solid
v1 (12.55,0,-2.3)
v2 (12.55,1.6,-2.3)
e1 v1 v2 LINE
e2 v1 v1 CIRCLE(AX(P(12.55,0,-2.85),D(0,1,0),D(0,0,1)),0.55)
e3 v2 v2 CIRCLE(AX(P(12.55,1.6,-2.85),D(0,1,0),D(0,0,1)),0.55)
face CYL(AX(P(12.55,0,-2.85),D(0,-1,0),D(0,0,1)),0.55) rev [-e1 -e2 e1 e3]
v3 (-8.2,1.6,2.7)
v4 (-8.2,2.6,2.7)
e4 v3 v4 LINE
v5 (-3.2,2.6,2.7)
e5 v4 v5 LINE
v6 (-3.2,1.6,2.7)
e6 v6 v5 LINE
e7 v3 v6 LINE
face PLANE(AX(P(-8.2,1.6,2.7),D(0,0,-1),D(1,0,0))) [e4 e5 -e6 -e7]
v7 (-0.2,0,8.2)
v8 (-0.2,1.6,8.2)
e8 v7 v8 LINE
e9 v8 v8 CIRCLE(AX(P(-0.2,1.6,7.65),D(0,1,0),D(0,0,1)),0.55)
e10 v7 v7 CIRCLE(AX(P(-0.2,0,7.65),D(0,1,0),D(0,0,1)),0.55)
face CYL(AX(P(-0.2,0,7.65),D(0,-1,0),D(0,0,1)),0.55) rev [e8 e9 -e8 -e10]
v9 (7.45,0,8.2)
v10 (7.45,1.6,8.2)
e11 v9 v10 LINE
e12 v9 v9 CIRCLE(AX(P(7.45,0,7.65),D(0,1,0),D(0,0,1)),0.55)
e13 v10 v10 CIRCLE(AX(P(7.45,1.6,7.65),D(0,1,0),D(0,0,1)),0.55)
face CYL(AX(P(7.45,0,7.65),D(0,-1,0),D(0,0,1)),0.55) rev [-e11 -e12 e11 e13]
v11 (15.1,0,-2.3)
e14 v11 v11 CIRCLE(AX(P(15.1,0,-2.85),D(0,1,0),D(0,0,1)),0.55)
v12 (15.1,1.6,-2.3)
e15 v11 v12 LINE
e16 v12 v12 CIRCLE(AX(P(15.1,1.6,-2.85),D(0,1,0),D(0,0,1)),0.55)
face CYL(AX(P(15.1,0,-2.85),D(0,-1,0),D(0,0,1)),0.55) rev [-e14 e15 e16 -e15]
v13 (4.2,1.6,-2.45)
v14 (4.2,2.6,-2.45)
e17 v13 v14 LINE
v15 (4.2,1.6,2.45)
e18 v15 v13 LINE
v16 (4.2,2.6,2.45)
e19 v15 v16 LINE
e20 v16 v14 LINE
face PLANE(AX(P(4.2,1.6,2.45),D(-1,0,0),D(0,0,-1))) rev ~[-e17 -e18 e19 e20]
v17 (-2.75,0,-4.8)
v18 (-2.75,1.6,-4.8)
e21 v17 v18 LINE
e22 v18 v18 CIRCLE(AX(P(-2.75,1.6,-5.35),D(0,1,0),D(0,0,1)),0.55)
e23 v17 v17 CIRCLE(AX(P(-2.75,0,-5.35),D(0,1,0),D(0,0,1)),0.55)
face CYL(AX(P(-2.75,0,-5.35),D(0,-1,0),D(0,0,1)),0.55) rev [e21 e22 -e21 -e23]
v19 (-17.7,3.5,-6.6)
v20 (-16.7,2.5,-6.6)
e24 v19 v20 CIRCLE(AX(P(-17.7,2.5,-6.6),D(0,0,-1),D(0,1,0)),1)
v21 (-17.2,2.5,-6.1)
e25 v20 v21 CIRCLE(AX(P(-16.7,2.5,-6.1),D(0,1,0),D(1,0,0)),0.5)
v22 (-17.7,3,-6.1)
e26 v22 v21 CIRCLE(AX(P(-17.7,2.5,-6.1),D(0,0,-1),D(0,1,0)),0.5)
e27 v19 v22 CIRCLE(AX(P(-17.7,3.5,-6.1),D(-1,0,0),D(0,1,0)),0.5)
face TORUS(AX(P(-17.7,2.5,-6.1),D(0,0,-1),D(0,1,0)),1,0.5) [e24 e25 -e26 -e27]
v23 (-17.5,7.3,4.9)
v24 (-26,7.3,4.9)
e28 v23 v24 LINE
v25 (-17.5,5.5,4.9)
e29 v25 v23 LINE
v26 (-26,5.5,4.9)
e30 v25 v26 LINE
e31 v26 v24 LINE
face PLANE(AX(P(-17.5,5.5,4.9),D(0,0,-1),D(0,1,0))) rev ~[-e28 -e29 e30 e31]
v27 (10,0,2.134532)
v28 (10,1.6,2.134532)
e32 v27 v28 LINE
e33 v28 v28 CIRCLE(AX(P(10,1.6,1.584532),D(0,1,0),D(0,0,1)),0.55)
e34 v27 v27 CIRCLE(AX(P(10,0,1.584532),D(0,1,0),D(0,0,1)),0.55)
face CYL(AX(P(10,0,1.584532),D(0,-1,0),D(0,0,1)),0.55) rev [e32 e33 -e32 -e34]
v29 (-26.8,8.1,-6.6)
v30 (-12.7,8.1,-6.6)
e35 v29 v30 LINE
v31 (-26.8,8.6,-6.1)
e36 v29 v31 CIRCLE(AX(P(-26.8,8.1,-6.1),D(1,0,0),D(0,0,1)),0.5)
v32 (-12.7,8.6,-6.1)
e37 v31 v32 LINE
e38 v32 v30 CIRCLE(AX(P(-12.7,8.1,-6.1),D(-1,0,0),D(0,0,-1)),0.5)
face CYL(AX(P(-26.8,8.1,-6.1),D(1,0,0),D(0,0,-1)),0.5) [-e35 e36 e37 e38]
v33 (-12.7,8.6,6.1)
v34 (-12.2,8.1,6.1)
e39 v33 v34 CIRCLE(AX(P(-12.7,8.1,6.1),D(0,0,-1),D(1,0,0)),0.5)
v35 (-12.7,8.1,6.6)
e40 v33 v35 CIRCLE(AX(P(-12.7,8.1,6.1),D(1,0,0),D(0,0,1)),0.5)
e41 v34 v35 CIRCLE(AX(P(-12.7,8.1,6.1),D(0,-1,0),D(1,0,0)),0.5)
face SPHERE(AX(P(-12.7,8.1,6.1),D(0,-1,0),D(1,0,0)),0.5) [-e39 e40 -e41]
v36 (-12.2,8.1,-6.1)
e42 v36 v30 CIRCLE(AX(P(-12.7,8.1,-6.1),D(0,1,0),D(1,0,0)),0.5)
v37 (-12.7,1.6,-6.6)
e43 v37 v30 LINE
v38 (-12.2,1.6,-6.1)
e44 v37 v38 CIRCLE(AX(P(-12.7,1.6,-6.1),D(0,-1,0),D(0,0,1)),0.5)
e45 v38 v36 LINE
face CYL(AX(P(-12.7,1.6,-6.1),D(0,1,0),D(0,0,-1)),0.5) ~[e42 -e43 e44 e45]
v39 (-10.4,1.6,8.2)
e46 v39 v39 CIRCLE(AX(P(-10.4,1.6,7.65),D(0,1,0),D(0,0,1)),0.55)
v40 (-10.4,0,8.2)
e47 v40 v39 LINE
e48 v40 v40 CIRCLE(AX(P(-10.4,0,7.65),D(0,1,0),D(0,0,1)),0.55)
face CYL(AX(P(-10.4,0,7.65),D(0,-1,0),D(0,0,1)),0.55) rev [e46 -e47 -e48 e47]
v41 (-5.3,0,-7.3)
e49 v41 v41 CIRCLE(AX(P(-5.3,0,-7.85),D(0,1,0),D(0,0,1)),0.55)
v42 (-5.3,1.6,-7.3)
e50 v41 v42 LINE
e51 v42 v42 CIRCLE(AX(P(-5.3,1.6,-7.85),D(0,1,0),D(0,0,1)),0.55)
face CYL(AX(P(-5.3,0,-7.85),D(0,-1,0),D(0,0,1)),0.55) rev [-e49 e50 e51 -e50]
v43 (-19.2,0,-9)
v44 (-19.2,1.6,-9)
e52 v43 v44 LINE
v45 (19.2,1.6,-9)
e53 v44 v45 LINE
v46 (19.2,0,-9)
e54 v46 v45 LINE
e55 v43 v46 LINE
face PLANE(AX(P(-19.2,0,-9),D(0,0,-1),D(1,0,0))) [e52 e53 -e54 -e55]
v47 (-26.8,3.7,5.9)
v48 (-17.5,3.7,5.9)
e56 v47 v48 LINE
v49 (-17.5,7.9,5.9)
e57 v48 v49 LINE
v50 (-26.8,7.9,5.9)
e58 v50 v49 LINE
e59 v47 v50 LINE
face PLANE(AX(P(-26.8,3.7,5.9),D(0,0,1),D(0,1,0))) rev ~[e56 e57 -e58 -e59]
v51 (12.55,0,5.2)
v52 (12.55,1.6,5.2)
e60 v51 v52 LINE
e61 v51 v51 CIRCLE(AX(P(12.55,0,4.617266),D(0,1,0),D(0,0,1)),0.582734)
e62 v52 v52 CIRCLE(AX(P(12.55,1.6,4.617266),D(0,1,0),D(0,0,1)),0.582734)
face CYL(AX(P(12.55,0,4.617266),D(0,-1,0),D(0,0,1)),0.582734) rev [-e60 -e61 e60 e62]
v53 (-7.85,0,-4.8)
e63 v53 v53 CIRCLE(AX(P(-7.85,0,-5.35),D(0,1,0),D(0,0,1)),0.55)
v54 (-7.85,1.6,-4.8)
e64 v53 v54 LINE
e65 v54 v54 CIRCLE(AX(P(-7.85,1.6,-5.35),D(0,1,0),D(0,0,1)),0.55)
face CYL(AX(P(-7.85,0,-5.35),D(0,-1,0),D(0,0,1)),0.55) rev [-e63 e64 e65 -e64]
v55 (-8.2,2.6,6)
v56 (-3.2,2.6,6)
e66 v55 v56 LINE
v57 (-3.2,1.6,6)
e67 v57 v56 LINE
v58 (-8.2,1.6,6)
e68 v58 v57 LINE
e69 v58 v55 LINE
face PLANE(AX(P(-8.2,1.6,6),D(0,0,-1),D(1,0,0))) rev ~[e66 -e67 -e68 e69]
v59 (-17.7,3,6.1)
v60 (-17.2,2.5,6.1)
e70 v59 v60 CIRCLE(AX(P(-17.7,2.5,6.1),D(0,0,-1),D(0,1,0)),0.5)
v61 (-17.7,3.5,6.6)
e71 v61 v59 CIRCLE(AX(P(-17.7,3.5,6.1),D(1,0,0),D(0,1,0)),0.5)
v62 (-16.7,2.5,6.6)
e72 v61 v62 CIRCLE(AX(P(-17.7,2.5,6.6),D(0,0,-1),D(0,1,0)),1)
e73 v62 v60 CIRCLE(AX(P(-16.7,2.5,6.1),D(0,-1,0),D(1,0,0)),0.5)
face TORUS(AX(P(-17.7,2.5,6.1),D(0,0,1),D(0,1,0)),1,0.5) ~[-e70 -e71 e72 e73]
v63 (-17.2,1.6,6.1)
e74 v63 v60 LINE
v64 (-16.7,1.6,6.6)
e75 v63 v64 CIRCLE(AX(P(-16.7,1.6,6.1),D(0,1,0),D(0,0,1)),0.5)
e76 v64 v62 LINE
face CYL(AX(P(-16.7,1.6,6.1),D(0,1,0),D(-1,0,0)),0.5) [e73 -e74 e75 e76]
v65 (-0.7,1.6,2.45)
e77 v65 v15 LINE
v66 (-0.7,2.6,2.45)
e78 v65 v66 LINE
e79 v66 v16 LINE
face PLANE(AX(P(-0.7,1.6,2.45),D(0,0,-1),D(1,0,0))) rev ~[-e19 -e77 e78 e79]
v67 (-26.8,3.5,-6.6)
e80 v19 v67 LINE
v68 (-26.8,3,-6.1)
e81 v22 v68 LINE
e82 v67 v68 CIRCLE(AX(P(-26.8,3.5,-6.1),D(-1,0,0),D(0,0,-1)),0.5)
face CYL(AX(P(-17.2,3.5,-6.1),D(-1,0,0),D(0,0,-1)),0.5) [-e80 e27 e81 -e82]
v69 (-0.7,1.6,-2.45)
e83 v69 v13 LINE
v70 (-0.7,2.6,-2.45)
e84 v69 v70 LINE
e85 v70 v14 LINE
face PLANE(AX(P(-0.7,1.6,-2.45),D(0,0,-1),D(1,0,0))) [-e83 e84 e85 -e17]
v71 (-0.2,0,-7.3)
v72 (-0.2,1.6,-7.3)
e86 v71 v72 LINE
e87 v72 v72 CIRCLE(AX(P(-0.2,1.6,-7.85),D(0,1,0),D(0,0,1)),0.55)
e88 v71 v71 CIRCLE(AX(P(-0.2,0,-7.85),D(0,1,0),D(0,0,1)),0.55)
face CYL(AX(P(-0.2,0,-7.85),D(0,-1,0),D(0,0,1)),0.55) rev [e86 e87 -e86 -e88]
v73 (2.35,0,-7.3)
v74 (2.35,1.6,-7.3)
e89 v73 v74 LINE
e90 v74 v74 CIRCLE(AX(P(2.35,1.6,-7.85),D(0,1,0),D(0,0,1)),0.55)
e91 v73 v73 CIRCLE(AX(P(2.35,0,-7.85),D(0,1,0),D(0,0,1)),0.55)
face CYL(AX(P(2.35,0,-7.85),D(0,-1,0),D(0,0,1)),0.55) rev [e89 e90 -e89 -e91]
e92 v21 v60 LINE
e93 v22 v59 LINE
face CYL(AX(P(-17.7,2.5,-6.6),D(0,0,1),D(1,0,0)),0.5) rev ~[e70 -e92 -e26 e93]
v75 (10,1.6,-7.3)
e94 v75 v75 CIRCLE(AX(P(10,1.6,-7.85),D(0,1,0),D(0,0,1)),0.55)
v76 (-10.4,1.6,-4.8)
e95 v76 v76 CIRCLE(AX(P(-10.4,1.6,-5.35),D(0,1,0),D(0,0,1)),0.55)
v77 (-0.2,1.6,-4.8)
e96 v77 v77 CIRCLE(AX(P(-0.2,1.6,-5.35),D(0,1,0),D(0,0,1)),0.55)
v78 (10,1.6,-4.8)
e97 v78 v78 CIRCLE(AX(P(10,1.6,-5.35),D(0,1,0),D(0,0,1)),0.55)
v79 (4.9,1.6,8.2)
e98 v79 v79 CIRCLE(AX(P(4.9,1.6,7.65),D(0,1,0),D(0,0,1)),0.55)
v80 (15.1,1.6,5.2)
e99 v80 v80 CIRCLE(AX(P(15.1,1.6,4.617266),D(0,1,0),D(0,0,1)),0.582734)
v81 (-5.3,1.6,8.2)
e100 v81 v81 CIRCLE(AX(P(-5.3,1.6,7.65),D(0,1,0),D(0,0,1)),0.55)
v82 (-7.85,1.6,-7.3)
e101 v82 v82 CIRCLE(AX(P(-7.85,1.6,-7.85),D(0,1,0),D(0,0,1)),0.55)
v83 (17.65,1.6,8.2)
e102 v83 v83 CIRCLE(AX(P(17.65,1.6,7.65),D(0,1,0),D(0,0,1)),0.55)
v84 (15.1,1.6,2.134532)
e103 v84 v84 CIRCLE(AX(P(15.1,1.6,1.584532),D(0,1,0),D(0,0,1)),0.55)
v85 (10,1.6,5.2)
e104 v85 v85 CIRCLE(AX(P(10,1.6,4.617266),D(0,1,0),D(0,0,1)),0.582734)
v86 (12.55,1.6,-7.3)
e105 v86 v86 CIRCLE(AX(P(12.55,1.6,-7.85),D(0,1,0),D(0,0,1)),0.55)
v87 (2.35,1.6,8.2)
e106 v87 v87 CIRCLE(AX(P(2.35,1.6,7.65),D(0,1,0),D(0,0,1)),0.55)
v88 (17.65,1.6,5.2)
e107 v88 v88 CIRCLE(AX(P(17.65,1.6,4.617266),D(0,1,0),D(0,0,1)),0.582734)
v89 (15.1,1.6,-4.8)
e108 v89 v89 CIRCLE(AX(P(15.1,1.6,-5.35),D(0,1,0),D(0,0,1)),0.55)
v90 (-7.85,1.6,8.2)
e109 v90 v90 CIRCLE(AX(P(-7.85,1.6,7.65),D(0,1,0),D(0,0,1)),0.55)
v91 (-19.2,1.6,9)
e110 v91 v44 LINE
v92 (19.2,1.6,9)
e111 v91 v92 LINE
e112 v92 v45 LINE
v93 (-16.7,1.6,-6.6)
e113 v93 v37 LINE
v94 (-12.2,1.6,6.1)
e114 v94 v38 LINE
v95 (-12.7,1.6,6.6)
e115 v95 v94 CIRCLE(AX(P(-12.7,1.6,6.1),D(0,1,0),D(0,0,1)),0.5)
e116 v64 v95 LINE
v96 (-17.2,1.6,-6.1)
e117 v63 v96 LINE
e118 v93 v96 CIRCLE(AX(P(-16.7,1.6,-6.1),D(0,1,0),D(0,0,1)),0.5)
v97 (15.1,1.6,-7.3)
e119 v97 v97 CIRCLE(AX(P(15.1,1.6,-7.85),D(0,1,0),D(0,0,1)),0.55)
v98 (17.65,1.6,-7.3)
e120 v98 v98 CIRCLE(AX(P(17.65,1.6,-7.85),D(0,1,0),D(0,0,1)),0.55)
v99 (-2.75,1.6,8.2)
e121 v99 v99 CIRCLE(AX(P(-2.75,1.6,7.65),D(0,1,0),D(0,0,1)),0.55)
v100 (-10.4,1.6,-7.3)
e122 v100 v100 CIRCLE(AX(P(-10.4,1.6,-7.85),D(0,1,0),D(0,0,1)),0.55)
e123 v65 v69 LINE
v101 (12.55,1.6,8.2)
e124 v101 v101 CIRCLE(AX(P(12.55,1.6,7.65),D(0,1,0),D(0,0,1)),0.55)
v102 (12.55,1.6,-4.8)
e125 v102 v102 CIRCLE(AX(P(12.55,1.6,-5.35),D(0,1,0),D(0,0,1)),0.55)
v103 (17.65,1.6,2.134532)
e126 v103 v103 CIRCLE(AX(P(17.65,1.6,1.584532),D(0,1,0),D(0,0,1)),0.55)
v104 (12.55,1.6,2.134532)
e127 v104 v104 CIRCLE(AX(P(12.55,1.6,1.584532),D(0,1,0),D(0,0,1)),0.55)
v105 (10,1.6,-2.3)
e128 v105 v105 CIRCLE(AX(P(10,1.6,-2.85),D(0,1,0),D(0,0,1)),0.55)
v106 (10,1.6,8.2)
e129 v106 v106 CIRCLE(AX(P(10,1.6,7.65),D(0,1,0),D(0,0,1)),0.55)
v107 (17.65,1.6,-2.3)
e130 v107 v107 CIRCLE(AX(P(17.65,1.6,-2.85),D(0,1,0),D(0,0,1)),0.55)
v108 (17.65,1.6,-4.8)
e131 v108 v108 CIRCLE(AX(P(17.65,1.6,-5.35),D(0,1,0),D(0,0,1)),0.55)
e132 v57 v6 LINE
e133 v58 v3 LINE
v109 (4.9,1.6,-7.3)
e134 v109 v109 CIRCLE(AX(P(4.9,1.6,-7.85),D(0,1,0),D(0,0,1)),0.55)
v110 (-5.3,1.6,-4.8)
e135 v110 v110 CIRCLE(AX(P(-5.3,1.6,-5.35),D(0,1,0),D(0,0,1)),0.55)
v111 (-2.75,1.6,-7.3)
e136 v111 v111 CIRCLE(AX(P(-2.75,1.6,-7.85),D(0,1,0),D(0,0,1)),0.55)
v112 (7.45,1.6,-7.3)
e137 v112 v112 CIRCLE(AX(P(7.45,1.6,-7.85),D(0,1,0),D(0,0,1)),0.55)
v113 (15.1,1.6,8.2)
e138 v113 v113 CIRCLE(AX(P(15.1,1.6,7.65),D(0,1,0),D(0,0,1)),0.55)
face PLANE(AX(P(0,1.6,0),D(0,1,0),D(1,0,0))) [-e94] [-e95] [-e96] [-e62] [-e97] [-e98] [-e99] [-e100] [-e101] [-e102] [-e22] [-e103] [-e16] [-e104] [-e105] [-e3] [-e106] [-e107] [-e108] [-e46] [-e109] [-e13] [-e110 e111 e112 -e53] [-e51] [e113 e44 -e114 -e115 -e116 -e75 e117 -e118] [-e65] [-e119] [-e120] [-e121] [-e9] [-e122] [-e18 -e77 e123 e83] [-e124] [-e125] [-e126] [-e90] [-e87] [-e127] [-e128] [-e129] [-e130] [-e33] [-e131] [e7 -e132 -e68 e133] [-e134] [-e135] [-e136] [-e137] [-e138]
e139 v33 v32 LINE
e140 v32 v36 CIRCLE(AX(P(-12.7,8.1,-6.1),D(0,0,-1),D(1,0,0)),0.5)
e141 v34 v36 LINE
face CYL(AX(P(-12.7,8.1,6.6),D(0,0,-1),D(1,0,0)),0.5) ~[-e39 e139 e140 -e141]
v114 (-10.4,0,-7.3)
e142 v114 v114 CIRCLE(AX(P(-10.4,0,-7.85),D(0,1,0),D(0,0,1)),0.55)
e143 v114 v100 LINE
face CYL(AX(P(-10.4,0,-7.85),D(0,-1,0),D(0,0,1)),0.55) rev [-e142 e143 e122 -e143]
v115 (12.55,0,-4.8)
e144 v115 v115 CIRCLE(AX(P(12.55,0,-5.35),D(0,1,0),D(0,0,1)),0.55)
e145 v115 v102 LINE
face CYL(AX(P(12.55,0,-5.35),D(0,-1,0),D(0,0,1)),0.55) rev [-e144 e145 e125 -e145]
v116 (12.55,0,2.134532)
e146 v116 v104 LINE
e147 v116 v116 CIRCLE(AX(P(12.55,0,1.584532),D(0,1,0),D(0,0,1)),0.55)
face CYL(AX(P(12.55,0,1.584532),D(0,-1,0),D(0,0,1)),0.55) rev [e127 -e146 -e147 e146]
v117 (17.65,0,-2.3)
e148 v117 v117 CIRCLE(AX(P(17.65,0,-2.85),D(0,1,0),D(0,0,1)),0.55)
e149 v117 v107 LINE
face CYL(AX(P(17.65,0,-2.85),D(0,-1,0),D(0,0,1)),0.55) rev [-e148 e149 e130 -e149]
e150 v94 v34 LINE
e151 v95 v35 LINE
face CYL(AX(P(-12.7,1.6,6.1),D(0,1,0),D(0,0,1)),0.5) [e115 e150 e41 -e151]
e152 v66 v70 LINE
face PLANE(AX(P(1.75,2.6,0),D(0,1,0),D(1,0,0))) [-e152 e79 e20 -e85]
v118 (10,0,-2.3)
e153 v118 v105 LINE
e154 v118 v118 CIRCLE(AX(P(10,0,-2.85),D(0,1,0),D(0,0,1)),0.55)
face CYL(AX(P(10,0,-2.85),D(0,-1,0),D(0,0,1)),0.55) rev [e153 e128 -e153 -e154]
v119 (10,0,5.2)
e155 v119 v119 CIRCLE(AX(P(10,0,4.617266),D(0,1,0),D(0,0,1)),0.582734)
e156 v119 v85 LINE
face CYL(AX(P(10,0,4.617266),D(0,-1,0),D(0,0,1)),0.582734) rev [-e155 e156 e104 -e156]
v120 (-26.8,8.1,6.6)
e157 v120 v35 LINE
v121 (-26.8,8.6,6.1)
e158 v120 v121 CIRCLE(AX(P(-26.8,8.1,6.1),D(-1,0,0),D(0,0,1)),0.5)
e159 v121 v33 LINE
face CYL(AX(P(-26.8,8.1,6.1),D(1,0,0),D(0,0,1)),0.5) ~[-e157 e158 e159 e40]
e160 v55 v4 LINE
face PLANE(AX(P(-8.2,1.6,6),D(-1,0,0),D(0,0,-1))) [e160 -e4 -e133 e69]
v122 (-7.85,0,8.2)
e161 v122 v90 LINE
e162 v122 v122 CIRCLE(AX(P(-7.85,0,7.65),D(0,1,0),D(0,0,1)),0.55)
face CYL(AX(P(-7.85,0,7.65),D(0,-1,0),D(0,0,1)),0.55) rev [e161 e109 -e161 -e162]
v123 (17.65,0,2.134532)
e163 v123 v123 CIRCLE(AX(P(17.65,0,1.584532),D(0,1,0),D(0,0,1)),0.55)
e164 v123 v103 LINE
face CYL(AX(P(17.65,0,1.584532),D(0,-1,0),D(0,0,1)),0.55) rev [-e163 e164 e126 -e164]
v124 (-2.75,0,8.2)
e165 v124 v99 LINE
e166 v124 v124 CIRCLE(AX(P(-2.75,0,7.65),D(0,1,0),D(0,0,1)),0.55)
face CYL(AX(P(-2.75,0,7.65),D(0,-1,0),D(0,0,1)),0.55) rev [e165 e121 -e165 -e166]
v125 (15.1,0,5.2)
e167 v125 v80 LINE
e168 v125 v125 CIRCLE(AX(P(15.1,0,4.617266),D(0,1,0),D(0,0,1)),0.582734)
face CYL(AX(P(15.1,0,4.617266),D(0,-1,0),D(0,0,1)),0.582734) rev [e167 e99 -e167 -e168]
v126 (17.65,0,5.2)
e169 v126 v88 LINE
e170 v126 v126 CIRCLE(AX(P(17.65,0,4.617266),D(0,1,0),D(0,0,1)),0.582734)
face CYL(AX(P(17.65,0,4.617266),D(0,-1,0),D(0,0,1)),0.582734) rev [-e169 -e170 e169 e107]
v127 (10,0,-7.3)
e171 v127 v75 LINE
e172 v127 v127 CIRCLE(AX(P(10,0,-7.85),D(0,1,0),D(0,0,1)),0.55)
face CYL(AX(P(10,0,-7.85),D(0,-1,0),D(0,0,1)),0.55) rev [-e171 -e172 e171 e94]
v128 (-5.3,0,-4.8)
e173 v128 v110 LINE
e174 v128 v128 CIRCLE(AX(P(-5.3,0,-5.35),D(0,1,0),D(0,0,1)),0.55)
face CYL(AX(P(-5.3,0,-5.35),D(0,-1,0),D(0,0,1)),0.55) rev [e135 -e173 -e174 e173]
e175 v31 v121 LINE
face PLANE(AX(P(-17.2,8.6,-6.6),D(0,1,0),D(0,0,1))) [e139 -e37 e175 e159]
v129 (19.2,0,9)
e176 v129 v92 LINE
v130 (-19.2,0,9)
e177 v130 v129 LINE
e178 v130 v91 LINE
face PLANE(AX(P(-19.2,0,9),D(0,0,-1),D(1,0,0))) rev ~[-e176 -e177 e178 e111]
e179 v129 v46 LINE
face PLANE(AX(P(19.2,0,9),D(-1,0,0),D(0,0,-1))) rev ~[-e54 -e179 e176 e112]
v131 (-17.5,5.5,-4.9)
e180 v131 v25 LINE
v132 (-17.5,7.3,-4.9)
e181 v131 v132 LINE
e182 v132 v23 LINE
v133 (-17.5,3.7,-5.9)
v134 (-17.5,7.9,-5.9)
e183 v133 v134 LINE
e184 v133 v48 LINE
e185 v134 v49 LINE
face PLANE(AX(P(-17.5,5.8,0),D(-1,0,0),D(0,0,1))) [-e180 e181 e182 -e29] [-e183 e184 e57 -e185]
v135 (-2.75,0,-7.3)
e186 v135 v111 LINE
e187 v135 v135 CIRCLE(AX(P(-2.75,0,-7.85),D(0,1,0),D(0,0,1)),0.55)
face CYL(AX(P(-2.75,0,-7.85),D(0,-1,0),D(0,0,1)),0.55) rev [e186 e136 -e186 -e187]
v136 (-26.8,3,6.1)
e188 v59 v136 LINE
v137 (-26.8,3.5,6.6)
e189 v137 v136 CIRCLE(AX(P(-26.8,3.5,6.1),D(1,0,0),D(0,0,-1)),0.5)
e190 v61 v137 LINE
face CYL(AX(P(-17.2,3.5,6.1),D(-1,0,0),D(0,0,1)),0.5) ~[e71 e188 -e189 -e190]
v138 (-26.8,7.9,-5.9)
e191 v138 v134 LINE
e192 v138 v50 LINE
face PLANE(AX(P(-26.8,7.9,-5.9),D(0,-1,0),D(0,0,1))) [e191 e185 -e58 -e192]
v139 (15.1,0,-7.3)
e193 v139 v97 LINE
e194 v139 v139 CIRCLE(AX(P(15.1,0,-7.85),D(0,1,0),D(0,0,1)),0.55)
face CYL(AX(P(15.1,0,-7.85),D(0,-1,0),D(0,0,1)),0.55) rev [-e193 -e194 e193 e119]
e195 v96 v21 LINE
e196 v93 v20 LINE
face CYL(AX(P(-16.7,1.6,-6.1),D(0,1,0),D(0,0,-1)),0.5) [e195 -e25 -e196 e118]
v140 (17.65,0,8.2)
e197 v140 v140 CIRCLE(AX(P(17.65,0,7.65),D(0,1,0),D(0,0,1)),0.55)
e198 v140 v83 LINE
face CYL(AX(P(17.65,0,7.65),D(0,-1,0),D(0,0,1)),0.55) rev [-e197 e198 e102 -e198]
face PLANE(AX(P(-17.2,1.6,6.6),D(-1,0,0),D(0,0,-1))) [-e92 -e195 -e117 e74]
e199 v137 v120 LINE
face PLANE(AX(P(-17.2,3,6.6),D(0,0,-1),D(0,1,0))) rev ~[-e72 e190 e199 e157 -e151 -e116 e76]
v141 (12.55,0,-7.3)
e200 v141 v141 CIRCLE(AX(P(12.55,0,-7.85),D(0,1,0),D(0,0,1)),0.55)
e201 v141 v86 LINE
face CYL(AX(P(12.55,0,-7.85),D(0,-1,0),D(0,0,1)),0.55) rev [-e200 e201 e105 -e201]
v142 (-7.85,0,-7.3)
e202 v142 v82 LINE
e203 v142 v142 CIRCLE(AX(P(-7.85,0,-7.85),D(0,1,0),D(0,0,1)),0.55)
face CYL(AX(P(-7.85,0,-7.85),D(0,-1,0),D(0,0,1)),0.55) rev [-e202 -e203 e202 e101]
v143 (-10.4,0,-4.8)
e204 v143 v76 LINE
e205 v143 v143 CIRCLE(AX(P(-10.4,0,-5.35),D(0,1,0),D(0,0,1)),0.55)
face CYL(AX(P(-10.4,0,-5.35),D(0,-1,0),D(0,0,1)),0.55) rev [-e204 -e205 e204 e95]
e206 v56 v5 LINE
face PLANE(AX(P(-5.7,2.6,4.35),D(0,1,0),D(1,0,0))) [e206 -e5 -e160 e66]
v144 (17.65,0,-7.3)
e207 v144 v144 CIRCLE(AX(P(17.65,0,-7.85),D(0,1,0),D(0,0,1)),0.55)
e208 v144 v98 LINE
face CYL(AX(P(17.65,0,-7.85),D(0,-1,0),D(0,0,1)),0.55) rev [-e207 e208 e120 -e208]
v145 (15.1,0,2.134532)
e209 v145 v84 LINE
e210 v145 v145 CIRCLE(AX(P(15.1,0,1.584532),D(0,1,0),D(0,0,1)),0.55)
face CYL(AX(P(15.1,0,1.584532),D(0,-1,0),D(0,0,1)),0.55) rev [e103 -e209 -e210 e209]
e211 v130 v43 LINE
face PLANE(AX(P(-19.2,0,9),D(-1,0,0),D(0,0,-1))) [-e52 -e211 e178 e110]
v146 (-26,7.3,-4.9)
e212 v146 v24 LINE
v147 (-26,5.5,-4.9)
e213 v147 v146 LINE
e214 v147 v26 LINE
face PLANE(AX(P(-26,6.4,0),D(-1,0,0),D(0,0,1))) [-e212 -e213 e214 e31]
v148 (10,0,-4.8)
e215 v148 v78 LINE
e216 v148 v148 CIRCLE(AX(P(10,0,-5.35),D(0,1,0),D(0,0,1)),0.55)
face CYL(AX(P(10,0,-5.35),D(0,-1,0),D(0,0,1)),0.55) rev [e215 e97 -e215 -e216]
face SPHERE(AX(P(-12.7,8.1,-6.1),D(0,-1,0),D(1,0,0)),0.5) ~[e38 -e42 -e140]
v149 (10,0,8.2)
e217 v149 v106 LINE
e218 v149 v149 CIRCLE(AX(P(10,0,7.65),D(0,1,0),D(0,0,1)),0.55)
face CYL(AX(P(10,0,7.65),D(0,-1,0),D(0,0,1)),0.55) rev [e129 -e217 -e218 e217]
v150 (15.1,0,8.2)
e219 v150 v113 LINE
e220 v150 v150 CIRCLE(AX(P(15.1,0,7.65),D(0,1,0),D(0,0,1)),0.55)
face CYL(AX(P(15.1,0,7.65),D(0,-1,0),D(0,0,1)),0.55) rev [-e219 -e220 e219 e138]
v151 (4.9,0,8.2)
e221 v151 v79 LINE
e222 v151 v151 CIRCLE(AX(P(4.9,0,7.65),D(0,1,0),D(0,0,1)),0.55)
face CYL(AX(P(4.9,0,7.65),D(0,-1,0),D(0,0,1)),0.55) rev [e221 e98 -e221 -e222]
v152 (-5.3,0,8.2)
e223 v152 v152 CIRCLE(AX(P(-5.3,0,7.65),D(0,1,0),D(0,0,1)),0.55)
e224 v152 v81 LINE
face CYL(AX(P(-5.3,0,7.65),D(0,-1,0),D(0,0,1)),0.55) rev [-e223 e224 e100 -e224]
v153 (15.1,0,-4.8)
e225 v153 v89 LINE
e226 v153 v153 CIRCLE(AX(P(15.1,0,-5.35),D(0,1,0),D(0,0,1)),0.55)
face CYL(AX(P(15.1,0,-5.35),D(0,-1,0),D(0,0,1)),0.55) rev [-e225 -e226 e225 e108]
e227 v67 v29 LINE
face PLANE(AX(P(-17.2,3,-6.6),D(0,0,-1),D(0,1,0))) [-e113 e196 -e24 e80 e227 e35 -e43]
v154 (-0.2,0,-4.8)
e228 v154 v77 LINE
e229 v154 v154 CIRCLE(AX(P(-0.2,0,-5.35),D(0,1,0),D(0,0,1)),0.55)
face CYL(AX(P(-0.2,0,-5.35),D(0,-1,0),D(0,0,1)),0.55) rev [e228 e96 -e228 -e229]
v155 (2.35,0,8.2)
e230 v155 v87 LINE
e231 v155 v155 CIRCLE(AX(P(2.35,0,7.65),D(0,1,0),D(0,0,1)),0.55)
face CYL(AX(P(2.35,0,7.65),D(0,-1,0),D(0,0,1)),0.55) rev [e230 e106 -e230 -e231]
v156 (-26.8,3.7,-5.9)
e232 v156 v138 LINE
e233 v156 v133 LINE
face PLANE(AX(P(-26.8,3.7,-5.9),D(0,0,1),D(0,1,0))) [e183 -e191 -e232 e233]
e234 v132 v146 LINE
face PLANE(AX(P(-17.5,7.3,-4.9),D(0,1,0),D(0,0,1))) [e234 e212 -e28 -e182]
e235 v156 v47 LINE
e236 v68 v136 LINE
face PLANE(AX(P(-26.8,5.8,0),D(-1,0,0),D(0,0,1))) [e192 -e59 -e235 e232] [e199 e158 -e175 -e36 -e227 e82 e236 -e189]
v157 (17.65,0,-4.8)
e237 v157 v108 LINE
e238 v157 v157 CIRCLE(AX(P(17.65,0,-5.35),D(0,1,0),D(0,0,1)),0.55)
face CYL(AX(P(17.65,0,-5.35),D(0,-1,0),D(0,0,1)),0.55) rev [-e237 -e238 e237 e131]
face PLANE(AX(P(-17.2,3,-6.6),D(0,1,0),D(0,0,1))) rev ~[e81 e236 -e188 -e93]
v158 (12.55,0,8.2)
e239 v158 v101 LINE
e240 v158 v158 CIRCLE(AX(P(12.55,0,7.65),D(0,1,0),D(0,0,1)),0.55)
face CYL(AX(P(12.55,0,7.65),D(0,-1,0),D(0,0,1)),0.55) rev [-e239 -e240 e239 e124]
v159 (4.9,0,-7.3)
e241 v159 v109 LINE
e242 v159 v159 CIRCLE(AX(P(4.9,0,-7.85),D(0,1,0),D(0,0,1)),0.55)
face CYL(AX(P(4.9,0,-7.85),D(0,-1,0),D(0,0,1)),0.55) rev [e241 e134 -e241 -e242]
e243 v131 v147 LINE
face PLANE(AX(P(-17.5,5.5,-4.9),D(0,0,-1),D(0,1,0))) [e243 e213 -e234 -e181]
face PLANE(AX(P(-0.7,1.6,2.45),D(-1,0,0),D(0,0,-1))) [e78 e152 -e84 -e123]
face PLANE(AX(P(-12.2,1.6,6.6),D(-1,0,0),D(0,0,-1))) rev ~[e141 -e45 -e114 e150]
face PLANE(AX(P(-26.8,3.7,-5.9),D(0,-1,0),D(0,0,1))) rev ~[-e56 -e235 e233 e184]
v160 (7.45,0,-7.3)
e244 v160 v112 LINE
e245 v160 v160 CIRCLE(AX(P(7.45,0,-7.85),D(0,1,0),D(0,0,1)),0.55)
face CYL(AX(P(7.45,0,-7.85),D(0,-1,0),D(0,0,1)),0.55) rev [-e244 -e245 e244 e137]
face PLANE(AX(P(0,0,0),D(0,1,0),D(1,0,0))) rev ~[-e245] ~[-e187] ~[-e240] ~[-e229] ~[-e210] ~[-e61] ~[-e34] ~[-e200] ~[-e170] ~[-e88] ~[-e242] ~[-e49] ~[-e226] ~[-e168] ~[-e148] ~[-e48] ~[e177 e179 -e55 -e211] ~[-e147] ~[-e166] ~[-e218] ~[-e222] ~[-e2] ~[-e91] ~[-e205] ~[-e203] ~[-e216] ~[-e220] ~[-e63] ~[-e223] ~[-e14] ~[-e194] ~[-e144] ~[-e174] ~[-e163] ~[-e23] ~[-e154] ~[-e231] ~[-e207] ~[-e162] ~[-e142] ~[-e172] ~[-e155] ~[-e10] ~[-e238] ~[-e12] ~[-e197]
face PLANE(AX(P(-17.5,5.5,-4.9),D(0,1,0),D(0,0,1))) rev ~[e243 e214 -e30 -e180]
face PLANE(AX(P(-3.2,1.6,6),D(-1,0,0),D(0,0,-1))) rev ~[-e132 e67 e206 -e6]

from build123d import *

# Parameters (mm, degrees)
ESQUISSE1_W             = 38.4
ESQUISSE1_H             = 18
ESQUISSE1_R             = 0.55
ESQUISSE1_R_2           = 0.582733778
BOSS_EXTRU_1_DEPTH      = 1.6
ESQUISSE2_W             = 5
ESQUISSE2_H             = 3.3
ESQUISSE2_W_2           = 4.9
ESQUISSE2_H_2           = 4.9
BOSS_EXTRU_2_DEPTH      = 1
ESQUISSE3_W             = 5
ESQUISSE3_H             = 13.2
BOSS_EXTRU_3_DEPTH      = 7
ESQUISSE4_W             = 13.2
ESQUISSE4_H             = 5.6
BOSS_EXTRU_4_DEPTH      = 9.6
CONG_2_R                = 0.5
ESQUISSE5_W             = 11.8
ESQUISSE5_H             = 4.2
ENL_V_MAT_EXTRU_1_DEPTH = 9.3
ESQUISSE6_W             = 9.8
ESQUISSE6_H             = 1.8
BOSS_EXTRU_5_DEPTH      = 8.5


with BuildPart() as part:
    # Esquisse1 → Boss.-Extru.1 (new body)
    with BuildSketch(Plane(origin=(0, 0, 0), x_dir=(1, 0, 0), z_dir=(0, 1, 0))):
        Rectangle(ESQUISSE1_W, ESQUISSE1_H)
        with Locations(Location((17.65, -7.65, 0), (0, 0, 270))):
            Circle(ESQUISSE1_R, mode=Mode.SUBTRACT)
        with Locations(Location((15.1, -7.65, 0), (0, 0, 270))):
            Circle(ESQUISSE1_R, mode=Mode.SUBTRACT)
        with Locations(Location((12.55, -7.65, 0), (0, 0, 270))):
            Circle(ESQUISSE1_R, mode=Mode.SUBTRACT)
        with Locations(Location((10, -7.65, 0), (0, 0, 270))):
            Circle(ESQUISSE1_R, mode=Mode.SUBTRACT)
        with Locations(Location((7.45, -7.65, 0), (0, 0, 270))):
            Circle(ESQUISSE1_R, mode=Mode.SUBTRACT)
        with Locations(Location((4.9, -7.65, 0), (0, 0, 270))):
            Circle(ESQUISSE1_R, mode=Mode.SUBTRACT)
        with Locations(Location((2.35, -7.65, 0), (0, 0, 270))):
            Circle(ESQUISSE1_R, mode=Mode.SUBTRACT)
        with Locations(Location((-0.2, -7.65, 0), (0, 0, 270))):
            Circle(ESQUISSE1_R, mode=Mode.SUBTRACT)
        with Locations(Location((-2.75, -7.65, 0), (0, 0, 270))):
            Circle(ESQUISSE1_R, mode=Mode.SUBTRACT)
        with Locations(Location((-5.3, -7.65, 0), (0, 0, 270))):
            Circle(ESQUISSE1_R, mode=Mode.SUBTRACT)
        with Locations(Location((-7.85, -7.65, 0), (0, 0, 270))):
            Circle(ESQUISSE1_R, mode=Mode.SUBTRACT)
        with Locations(Location((-10.4, -7.65, 0), (0, 0, 270))):
            Circle(ESQUISSE1_R, mode=Mode.SUBTRACT)
        with Locations(Location((17.65, 7.85, 0), (0, 0, 270))):
            Circle(ESQUISSE1_R, mode=Mode.SUBTRACT)
        with Locations(Location((15.1, 7.85, 0), (0, 0, 270))):
            Circle(ESQUISSE1_R, mode=Mode.SUBTRACT)
        with Locations(Location((12.55, 7.85, 0), (0, 0, 270))):
            Circle(ESQUISSE1_R, mode=Mode.SUBTRACT)
        with Locations(Location((10, 7.85, 0), (0, 0, 270))):
            Circle(ESQUISSE1_R, mode=Mode.SUBTRACT)
        with Locations(Location((7.45, 7.85, 0), (0, 0, 270))):
            Circle(ESQUISSE1_R, mode=Mode.SUBTRACT)
        with Locations(Location((4.9, 7.85, 0), (0, 0, 270))):
            Circle(ESQUISSE1_R, mode=Mode.SUBTRACT)
        with Locations(Location((2.35, 7.85, 0), (0, 0, 270))):
            Circle(ESQUISSE1_R, mode=Mode.SUBTRACT)
        with Locations(Location((-0.2, 7.85, 0), (0, 0, 270))):
            Circle(ESQUISSE1_R, mode=Mode.SUBTRACT)
        with Locations(Location((-2.75, 7.85, 0), (0, 0, 270))):
            Circle(ESQUISSE1_R, mode=Mode.SUBTRACT)
        with Locations(Location((-5.3, 7.85, 0), (0, 0, 270))):
            Circle(ESQUISSE1_R, mode=Mode.SUBTRACT)
        with Locations(Location((-7.85, 7.85, 0), (0, 0, 270))):
            Circle(ESQUISSE1_R, mode=Mode.SUBTRACT)
        with Locations(Location((-10.4, 7.85, 0), (0, 0, 270))):
            Circle(ESQUISSE1_R, mode=Mode.SUBTRACT)
        with Locations(Location((17.65, -4.617266222, 0), (0, 0, 270))):
            Circle(ESQUISSE1_R_2, mode=Mode.SUBTRACT)
        with Locations(Location((17.65, -1.584532444, 0), (0, 0, 270))):
            Circle(ESQUISSE1_R, mode=Mode.SUBTRACT)
        with Locations(Location((17.65, 5.35, 0), (0, 0, 270))):
            Circle(ESQUISSE1_R, mode=Mode.SUBTRACT)
        with Locations(Location((17.65, 2.85, 0), (0, 0, 270))):
            Circle(ESQUISSE1_R, mode=Mode.SUBTRACT)
        with Locations(Location((15.1, -4.617266222, 0), (0, 0, 270))):
            Circle(ESQUISSE1_R_2, mode=Mode.SUBTRACT)
        with Locations(Location((12.55, -4.617266222, 0), (0, 0, 270))):
            Circle(ESQUISSE1_R_2, mode=Mode.SUBTRACT)
        with Locations(Location((10, -4.617266222, 0), (0, 0, 270))):
            Circle(ESQUISSE1_R_2, mode=Mode.SUBTRACT)
        with Locations(Location((15.1, -1.584532444, 0), (0, 0, 270))):
            Circle(ESQUISSE1_R, mode=Mode.SUBTRACT)
        with Locations(Location((12.55, -1.584532444, 0), (0, 0, 270))):
            Circle(ESQUISSE1_R, mode=Mode.SUBTRACT)
        with Locations(Location((10, -1.584532444, 0), (0, 0, 270))):
            Circle(ESQUISSE1_R, mode=Mode.SUBTRACT)
        with Locations(Location((15.1, 5.35, 0), (0, 0, 270))):
            Circle(ESQUISSE1_R, mode=Mode.SUBTRACT)
        with Locations(Location((15.1, 2.85, 0), (0, 0, 270))):
            Circle(ESQUISSE1_R, mode=Mode.SUBTRACT)
        with Locations(Location((12.55, 5.35, 0), (0, 0, 270))):
            Circle(ESQUISSE1_R, mode=Mode.SUBTRACT)
        with Locations(Location((12.55, 2.85, 0), (0, 0, 270))):
            Circle(ESQUISSE1_R, mode=Mode.SUBTRACT)
        with Locations(Location((10, 5.35, 0), (0, 0, 270))):
            Circle(ESQUISSE1_R, mode=Mode.SUBTRACT)
        with Locations(Location((10, 2.85, 0), (0, 0, 270))):
            Circle(ESQUISSE1_R, mode=Mode.SUBTRACT)
        with Locations(Location((-10.4, 5.35, 0), (0, 0, 270))):
            Circle(ESQUISSE1_R, mode=Mode.SUBTRACT)
        with Locations(Location((-7.85, 5.35, 0), (0, 0, 270))):
            Circle(ESQUISSE1_R, mode=Mode.SUBTRACT)
        with Locations(Location((-5.3, 5.35, 0), (0, 0, 270))):
            Circle(ESQUISSE1_R, mode=Mode.SUBTRACT)
        with Locations(Location((-2.75, 5.35, 0), (0, 0, 270))):
            Circle(ESQUISSE1_R, mode=Mode.SUBTRACT)
        with Locations(Location((-0.2, 5.35, 0), (0, 0, 270))):
            Circle(ESQUISSE1_R, mode=Mode.SUBTRACT)
    extrude(amount=BOSS_EXTRU_1_DEPTH)

    # Esquisse2 → Boss.-Extru.2 (add)
    with BuildSketch(Plane(origin=(0, 1.6, 0), x_dir=(1, 0, 0), z_dir=(0, 1, 0))):
        with Locations((-5.7, -4.35)):
            Rectangle(ESQUISSE2_W, ESQUISSE2_H)
        with Locations((1.75, 0)):
            Rectangle(ESQUISSE2_W_2, ESQUISSE2_H_2)
    extrude(amount=BOSS_EXTRU_2_DEPTH)

    # Esquisse3 → Boss.-Extru.3 (add)
    with BuildSketch(Plane(origin=(0, 1.6, 0), x_dir=(1, 0, 0), z_dir=(0, 1, 0))):
        with Locations((-14.7, 0)):
            Rectangle(ESQUISSE3_W, ESQUISSE3_H)
    extrude(amount=BOSS_EXTRU_3_DEPTH)

    # Esquisse4 → Boss.-Extru.4 (add)
    with BuildSketch(Plane.ZY.offset(17.2)):
        with Locations((0, 5.8)):
            Rectangle(ESQUISSE4_W, ESQUISSE4_H)
    extrude(amount=BOSS_EXTRU_4_DEPTH)

    # Congé2
    cong_2_edges = [part.edges().sort_by_distance(p)[0] for p in [
        (-12.2, 5.1, 6.6),
        (-12.2, 5.1, -6.6),
        (-12.2, 8.6, 0),
        (-19.5, 8.6, -6.6),
        (-19.5, 8.6, 6.6),
        (-17.2, 2.3, 6.6),
        (-17.2, 2.3, -6.6),
        (-17.2, 3, 0),
        (-22, 3, -6.6),
        (-22, 3, 6.6),
    ]]
    fillet(cong_2_edges, radius=CONG_2_R)

    # Esquisse5 → Enlèv. mat.-Extru.1 (cut)
    with BuildSketch(Plane.ZY.offset(26.8)):
        with Locations((0, 5.8)):
            Rectangle(ESQUISSE5_W, ESQUISSE5_H)
    extrude(amount=-ENL_V_MAT_EXTRU_1_DEPTH, mode=Mode.SUBTRACT)

    # Esquisse6 → Boss.-Extru.5 (add)
    with BuildSketch(Plane.ZY.offset(17.5)):
        with Locations((0, 6.4)):
            Rectangle(ESQUISSE6_W, ESQUISSE6_H)
    extrude(amount=BOSS_EXTRU_5_DEPTH)


solid = part.part
